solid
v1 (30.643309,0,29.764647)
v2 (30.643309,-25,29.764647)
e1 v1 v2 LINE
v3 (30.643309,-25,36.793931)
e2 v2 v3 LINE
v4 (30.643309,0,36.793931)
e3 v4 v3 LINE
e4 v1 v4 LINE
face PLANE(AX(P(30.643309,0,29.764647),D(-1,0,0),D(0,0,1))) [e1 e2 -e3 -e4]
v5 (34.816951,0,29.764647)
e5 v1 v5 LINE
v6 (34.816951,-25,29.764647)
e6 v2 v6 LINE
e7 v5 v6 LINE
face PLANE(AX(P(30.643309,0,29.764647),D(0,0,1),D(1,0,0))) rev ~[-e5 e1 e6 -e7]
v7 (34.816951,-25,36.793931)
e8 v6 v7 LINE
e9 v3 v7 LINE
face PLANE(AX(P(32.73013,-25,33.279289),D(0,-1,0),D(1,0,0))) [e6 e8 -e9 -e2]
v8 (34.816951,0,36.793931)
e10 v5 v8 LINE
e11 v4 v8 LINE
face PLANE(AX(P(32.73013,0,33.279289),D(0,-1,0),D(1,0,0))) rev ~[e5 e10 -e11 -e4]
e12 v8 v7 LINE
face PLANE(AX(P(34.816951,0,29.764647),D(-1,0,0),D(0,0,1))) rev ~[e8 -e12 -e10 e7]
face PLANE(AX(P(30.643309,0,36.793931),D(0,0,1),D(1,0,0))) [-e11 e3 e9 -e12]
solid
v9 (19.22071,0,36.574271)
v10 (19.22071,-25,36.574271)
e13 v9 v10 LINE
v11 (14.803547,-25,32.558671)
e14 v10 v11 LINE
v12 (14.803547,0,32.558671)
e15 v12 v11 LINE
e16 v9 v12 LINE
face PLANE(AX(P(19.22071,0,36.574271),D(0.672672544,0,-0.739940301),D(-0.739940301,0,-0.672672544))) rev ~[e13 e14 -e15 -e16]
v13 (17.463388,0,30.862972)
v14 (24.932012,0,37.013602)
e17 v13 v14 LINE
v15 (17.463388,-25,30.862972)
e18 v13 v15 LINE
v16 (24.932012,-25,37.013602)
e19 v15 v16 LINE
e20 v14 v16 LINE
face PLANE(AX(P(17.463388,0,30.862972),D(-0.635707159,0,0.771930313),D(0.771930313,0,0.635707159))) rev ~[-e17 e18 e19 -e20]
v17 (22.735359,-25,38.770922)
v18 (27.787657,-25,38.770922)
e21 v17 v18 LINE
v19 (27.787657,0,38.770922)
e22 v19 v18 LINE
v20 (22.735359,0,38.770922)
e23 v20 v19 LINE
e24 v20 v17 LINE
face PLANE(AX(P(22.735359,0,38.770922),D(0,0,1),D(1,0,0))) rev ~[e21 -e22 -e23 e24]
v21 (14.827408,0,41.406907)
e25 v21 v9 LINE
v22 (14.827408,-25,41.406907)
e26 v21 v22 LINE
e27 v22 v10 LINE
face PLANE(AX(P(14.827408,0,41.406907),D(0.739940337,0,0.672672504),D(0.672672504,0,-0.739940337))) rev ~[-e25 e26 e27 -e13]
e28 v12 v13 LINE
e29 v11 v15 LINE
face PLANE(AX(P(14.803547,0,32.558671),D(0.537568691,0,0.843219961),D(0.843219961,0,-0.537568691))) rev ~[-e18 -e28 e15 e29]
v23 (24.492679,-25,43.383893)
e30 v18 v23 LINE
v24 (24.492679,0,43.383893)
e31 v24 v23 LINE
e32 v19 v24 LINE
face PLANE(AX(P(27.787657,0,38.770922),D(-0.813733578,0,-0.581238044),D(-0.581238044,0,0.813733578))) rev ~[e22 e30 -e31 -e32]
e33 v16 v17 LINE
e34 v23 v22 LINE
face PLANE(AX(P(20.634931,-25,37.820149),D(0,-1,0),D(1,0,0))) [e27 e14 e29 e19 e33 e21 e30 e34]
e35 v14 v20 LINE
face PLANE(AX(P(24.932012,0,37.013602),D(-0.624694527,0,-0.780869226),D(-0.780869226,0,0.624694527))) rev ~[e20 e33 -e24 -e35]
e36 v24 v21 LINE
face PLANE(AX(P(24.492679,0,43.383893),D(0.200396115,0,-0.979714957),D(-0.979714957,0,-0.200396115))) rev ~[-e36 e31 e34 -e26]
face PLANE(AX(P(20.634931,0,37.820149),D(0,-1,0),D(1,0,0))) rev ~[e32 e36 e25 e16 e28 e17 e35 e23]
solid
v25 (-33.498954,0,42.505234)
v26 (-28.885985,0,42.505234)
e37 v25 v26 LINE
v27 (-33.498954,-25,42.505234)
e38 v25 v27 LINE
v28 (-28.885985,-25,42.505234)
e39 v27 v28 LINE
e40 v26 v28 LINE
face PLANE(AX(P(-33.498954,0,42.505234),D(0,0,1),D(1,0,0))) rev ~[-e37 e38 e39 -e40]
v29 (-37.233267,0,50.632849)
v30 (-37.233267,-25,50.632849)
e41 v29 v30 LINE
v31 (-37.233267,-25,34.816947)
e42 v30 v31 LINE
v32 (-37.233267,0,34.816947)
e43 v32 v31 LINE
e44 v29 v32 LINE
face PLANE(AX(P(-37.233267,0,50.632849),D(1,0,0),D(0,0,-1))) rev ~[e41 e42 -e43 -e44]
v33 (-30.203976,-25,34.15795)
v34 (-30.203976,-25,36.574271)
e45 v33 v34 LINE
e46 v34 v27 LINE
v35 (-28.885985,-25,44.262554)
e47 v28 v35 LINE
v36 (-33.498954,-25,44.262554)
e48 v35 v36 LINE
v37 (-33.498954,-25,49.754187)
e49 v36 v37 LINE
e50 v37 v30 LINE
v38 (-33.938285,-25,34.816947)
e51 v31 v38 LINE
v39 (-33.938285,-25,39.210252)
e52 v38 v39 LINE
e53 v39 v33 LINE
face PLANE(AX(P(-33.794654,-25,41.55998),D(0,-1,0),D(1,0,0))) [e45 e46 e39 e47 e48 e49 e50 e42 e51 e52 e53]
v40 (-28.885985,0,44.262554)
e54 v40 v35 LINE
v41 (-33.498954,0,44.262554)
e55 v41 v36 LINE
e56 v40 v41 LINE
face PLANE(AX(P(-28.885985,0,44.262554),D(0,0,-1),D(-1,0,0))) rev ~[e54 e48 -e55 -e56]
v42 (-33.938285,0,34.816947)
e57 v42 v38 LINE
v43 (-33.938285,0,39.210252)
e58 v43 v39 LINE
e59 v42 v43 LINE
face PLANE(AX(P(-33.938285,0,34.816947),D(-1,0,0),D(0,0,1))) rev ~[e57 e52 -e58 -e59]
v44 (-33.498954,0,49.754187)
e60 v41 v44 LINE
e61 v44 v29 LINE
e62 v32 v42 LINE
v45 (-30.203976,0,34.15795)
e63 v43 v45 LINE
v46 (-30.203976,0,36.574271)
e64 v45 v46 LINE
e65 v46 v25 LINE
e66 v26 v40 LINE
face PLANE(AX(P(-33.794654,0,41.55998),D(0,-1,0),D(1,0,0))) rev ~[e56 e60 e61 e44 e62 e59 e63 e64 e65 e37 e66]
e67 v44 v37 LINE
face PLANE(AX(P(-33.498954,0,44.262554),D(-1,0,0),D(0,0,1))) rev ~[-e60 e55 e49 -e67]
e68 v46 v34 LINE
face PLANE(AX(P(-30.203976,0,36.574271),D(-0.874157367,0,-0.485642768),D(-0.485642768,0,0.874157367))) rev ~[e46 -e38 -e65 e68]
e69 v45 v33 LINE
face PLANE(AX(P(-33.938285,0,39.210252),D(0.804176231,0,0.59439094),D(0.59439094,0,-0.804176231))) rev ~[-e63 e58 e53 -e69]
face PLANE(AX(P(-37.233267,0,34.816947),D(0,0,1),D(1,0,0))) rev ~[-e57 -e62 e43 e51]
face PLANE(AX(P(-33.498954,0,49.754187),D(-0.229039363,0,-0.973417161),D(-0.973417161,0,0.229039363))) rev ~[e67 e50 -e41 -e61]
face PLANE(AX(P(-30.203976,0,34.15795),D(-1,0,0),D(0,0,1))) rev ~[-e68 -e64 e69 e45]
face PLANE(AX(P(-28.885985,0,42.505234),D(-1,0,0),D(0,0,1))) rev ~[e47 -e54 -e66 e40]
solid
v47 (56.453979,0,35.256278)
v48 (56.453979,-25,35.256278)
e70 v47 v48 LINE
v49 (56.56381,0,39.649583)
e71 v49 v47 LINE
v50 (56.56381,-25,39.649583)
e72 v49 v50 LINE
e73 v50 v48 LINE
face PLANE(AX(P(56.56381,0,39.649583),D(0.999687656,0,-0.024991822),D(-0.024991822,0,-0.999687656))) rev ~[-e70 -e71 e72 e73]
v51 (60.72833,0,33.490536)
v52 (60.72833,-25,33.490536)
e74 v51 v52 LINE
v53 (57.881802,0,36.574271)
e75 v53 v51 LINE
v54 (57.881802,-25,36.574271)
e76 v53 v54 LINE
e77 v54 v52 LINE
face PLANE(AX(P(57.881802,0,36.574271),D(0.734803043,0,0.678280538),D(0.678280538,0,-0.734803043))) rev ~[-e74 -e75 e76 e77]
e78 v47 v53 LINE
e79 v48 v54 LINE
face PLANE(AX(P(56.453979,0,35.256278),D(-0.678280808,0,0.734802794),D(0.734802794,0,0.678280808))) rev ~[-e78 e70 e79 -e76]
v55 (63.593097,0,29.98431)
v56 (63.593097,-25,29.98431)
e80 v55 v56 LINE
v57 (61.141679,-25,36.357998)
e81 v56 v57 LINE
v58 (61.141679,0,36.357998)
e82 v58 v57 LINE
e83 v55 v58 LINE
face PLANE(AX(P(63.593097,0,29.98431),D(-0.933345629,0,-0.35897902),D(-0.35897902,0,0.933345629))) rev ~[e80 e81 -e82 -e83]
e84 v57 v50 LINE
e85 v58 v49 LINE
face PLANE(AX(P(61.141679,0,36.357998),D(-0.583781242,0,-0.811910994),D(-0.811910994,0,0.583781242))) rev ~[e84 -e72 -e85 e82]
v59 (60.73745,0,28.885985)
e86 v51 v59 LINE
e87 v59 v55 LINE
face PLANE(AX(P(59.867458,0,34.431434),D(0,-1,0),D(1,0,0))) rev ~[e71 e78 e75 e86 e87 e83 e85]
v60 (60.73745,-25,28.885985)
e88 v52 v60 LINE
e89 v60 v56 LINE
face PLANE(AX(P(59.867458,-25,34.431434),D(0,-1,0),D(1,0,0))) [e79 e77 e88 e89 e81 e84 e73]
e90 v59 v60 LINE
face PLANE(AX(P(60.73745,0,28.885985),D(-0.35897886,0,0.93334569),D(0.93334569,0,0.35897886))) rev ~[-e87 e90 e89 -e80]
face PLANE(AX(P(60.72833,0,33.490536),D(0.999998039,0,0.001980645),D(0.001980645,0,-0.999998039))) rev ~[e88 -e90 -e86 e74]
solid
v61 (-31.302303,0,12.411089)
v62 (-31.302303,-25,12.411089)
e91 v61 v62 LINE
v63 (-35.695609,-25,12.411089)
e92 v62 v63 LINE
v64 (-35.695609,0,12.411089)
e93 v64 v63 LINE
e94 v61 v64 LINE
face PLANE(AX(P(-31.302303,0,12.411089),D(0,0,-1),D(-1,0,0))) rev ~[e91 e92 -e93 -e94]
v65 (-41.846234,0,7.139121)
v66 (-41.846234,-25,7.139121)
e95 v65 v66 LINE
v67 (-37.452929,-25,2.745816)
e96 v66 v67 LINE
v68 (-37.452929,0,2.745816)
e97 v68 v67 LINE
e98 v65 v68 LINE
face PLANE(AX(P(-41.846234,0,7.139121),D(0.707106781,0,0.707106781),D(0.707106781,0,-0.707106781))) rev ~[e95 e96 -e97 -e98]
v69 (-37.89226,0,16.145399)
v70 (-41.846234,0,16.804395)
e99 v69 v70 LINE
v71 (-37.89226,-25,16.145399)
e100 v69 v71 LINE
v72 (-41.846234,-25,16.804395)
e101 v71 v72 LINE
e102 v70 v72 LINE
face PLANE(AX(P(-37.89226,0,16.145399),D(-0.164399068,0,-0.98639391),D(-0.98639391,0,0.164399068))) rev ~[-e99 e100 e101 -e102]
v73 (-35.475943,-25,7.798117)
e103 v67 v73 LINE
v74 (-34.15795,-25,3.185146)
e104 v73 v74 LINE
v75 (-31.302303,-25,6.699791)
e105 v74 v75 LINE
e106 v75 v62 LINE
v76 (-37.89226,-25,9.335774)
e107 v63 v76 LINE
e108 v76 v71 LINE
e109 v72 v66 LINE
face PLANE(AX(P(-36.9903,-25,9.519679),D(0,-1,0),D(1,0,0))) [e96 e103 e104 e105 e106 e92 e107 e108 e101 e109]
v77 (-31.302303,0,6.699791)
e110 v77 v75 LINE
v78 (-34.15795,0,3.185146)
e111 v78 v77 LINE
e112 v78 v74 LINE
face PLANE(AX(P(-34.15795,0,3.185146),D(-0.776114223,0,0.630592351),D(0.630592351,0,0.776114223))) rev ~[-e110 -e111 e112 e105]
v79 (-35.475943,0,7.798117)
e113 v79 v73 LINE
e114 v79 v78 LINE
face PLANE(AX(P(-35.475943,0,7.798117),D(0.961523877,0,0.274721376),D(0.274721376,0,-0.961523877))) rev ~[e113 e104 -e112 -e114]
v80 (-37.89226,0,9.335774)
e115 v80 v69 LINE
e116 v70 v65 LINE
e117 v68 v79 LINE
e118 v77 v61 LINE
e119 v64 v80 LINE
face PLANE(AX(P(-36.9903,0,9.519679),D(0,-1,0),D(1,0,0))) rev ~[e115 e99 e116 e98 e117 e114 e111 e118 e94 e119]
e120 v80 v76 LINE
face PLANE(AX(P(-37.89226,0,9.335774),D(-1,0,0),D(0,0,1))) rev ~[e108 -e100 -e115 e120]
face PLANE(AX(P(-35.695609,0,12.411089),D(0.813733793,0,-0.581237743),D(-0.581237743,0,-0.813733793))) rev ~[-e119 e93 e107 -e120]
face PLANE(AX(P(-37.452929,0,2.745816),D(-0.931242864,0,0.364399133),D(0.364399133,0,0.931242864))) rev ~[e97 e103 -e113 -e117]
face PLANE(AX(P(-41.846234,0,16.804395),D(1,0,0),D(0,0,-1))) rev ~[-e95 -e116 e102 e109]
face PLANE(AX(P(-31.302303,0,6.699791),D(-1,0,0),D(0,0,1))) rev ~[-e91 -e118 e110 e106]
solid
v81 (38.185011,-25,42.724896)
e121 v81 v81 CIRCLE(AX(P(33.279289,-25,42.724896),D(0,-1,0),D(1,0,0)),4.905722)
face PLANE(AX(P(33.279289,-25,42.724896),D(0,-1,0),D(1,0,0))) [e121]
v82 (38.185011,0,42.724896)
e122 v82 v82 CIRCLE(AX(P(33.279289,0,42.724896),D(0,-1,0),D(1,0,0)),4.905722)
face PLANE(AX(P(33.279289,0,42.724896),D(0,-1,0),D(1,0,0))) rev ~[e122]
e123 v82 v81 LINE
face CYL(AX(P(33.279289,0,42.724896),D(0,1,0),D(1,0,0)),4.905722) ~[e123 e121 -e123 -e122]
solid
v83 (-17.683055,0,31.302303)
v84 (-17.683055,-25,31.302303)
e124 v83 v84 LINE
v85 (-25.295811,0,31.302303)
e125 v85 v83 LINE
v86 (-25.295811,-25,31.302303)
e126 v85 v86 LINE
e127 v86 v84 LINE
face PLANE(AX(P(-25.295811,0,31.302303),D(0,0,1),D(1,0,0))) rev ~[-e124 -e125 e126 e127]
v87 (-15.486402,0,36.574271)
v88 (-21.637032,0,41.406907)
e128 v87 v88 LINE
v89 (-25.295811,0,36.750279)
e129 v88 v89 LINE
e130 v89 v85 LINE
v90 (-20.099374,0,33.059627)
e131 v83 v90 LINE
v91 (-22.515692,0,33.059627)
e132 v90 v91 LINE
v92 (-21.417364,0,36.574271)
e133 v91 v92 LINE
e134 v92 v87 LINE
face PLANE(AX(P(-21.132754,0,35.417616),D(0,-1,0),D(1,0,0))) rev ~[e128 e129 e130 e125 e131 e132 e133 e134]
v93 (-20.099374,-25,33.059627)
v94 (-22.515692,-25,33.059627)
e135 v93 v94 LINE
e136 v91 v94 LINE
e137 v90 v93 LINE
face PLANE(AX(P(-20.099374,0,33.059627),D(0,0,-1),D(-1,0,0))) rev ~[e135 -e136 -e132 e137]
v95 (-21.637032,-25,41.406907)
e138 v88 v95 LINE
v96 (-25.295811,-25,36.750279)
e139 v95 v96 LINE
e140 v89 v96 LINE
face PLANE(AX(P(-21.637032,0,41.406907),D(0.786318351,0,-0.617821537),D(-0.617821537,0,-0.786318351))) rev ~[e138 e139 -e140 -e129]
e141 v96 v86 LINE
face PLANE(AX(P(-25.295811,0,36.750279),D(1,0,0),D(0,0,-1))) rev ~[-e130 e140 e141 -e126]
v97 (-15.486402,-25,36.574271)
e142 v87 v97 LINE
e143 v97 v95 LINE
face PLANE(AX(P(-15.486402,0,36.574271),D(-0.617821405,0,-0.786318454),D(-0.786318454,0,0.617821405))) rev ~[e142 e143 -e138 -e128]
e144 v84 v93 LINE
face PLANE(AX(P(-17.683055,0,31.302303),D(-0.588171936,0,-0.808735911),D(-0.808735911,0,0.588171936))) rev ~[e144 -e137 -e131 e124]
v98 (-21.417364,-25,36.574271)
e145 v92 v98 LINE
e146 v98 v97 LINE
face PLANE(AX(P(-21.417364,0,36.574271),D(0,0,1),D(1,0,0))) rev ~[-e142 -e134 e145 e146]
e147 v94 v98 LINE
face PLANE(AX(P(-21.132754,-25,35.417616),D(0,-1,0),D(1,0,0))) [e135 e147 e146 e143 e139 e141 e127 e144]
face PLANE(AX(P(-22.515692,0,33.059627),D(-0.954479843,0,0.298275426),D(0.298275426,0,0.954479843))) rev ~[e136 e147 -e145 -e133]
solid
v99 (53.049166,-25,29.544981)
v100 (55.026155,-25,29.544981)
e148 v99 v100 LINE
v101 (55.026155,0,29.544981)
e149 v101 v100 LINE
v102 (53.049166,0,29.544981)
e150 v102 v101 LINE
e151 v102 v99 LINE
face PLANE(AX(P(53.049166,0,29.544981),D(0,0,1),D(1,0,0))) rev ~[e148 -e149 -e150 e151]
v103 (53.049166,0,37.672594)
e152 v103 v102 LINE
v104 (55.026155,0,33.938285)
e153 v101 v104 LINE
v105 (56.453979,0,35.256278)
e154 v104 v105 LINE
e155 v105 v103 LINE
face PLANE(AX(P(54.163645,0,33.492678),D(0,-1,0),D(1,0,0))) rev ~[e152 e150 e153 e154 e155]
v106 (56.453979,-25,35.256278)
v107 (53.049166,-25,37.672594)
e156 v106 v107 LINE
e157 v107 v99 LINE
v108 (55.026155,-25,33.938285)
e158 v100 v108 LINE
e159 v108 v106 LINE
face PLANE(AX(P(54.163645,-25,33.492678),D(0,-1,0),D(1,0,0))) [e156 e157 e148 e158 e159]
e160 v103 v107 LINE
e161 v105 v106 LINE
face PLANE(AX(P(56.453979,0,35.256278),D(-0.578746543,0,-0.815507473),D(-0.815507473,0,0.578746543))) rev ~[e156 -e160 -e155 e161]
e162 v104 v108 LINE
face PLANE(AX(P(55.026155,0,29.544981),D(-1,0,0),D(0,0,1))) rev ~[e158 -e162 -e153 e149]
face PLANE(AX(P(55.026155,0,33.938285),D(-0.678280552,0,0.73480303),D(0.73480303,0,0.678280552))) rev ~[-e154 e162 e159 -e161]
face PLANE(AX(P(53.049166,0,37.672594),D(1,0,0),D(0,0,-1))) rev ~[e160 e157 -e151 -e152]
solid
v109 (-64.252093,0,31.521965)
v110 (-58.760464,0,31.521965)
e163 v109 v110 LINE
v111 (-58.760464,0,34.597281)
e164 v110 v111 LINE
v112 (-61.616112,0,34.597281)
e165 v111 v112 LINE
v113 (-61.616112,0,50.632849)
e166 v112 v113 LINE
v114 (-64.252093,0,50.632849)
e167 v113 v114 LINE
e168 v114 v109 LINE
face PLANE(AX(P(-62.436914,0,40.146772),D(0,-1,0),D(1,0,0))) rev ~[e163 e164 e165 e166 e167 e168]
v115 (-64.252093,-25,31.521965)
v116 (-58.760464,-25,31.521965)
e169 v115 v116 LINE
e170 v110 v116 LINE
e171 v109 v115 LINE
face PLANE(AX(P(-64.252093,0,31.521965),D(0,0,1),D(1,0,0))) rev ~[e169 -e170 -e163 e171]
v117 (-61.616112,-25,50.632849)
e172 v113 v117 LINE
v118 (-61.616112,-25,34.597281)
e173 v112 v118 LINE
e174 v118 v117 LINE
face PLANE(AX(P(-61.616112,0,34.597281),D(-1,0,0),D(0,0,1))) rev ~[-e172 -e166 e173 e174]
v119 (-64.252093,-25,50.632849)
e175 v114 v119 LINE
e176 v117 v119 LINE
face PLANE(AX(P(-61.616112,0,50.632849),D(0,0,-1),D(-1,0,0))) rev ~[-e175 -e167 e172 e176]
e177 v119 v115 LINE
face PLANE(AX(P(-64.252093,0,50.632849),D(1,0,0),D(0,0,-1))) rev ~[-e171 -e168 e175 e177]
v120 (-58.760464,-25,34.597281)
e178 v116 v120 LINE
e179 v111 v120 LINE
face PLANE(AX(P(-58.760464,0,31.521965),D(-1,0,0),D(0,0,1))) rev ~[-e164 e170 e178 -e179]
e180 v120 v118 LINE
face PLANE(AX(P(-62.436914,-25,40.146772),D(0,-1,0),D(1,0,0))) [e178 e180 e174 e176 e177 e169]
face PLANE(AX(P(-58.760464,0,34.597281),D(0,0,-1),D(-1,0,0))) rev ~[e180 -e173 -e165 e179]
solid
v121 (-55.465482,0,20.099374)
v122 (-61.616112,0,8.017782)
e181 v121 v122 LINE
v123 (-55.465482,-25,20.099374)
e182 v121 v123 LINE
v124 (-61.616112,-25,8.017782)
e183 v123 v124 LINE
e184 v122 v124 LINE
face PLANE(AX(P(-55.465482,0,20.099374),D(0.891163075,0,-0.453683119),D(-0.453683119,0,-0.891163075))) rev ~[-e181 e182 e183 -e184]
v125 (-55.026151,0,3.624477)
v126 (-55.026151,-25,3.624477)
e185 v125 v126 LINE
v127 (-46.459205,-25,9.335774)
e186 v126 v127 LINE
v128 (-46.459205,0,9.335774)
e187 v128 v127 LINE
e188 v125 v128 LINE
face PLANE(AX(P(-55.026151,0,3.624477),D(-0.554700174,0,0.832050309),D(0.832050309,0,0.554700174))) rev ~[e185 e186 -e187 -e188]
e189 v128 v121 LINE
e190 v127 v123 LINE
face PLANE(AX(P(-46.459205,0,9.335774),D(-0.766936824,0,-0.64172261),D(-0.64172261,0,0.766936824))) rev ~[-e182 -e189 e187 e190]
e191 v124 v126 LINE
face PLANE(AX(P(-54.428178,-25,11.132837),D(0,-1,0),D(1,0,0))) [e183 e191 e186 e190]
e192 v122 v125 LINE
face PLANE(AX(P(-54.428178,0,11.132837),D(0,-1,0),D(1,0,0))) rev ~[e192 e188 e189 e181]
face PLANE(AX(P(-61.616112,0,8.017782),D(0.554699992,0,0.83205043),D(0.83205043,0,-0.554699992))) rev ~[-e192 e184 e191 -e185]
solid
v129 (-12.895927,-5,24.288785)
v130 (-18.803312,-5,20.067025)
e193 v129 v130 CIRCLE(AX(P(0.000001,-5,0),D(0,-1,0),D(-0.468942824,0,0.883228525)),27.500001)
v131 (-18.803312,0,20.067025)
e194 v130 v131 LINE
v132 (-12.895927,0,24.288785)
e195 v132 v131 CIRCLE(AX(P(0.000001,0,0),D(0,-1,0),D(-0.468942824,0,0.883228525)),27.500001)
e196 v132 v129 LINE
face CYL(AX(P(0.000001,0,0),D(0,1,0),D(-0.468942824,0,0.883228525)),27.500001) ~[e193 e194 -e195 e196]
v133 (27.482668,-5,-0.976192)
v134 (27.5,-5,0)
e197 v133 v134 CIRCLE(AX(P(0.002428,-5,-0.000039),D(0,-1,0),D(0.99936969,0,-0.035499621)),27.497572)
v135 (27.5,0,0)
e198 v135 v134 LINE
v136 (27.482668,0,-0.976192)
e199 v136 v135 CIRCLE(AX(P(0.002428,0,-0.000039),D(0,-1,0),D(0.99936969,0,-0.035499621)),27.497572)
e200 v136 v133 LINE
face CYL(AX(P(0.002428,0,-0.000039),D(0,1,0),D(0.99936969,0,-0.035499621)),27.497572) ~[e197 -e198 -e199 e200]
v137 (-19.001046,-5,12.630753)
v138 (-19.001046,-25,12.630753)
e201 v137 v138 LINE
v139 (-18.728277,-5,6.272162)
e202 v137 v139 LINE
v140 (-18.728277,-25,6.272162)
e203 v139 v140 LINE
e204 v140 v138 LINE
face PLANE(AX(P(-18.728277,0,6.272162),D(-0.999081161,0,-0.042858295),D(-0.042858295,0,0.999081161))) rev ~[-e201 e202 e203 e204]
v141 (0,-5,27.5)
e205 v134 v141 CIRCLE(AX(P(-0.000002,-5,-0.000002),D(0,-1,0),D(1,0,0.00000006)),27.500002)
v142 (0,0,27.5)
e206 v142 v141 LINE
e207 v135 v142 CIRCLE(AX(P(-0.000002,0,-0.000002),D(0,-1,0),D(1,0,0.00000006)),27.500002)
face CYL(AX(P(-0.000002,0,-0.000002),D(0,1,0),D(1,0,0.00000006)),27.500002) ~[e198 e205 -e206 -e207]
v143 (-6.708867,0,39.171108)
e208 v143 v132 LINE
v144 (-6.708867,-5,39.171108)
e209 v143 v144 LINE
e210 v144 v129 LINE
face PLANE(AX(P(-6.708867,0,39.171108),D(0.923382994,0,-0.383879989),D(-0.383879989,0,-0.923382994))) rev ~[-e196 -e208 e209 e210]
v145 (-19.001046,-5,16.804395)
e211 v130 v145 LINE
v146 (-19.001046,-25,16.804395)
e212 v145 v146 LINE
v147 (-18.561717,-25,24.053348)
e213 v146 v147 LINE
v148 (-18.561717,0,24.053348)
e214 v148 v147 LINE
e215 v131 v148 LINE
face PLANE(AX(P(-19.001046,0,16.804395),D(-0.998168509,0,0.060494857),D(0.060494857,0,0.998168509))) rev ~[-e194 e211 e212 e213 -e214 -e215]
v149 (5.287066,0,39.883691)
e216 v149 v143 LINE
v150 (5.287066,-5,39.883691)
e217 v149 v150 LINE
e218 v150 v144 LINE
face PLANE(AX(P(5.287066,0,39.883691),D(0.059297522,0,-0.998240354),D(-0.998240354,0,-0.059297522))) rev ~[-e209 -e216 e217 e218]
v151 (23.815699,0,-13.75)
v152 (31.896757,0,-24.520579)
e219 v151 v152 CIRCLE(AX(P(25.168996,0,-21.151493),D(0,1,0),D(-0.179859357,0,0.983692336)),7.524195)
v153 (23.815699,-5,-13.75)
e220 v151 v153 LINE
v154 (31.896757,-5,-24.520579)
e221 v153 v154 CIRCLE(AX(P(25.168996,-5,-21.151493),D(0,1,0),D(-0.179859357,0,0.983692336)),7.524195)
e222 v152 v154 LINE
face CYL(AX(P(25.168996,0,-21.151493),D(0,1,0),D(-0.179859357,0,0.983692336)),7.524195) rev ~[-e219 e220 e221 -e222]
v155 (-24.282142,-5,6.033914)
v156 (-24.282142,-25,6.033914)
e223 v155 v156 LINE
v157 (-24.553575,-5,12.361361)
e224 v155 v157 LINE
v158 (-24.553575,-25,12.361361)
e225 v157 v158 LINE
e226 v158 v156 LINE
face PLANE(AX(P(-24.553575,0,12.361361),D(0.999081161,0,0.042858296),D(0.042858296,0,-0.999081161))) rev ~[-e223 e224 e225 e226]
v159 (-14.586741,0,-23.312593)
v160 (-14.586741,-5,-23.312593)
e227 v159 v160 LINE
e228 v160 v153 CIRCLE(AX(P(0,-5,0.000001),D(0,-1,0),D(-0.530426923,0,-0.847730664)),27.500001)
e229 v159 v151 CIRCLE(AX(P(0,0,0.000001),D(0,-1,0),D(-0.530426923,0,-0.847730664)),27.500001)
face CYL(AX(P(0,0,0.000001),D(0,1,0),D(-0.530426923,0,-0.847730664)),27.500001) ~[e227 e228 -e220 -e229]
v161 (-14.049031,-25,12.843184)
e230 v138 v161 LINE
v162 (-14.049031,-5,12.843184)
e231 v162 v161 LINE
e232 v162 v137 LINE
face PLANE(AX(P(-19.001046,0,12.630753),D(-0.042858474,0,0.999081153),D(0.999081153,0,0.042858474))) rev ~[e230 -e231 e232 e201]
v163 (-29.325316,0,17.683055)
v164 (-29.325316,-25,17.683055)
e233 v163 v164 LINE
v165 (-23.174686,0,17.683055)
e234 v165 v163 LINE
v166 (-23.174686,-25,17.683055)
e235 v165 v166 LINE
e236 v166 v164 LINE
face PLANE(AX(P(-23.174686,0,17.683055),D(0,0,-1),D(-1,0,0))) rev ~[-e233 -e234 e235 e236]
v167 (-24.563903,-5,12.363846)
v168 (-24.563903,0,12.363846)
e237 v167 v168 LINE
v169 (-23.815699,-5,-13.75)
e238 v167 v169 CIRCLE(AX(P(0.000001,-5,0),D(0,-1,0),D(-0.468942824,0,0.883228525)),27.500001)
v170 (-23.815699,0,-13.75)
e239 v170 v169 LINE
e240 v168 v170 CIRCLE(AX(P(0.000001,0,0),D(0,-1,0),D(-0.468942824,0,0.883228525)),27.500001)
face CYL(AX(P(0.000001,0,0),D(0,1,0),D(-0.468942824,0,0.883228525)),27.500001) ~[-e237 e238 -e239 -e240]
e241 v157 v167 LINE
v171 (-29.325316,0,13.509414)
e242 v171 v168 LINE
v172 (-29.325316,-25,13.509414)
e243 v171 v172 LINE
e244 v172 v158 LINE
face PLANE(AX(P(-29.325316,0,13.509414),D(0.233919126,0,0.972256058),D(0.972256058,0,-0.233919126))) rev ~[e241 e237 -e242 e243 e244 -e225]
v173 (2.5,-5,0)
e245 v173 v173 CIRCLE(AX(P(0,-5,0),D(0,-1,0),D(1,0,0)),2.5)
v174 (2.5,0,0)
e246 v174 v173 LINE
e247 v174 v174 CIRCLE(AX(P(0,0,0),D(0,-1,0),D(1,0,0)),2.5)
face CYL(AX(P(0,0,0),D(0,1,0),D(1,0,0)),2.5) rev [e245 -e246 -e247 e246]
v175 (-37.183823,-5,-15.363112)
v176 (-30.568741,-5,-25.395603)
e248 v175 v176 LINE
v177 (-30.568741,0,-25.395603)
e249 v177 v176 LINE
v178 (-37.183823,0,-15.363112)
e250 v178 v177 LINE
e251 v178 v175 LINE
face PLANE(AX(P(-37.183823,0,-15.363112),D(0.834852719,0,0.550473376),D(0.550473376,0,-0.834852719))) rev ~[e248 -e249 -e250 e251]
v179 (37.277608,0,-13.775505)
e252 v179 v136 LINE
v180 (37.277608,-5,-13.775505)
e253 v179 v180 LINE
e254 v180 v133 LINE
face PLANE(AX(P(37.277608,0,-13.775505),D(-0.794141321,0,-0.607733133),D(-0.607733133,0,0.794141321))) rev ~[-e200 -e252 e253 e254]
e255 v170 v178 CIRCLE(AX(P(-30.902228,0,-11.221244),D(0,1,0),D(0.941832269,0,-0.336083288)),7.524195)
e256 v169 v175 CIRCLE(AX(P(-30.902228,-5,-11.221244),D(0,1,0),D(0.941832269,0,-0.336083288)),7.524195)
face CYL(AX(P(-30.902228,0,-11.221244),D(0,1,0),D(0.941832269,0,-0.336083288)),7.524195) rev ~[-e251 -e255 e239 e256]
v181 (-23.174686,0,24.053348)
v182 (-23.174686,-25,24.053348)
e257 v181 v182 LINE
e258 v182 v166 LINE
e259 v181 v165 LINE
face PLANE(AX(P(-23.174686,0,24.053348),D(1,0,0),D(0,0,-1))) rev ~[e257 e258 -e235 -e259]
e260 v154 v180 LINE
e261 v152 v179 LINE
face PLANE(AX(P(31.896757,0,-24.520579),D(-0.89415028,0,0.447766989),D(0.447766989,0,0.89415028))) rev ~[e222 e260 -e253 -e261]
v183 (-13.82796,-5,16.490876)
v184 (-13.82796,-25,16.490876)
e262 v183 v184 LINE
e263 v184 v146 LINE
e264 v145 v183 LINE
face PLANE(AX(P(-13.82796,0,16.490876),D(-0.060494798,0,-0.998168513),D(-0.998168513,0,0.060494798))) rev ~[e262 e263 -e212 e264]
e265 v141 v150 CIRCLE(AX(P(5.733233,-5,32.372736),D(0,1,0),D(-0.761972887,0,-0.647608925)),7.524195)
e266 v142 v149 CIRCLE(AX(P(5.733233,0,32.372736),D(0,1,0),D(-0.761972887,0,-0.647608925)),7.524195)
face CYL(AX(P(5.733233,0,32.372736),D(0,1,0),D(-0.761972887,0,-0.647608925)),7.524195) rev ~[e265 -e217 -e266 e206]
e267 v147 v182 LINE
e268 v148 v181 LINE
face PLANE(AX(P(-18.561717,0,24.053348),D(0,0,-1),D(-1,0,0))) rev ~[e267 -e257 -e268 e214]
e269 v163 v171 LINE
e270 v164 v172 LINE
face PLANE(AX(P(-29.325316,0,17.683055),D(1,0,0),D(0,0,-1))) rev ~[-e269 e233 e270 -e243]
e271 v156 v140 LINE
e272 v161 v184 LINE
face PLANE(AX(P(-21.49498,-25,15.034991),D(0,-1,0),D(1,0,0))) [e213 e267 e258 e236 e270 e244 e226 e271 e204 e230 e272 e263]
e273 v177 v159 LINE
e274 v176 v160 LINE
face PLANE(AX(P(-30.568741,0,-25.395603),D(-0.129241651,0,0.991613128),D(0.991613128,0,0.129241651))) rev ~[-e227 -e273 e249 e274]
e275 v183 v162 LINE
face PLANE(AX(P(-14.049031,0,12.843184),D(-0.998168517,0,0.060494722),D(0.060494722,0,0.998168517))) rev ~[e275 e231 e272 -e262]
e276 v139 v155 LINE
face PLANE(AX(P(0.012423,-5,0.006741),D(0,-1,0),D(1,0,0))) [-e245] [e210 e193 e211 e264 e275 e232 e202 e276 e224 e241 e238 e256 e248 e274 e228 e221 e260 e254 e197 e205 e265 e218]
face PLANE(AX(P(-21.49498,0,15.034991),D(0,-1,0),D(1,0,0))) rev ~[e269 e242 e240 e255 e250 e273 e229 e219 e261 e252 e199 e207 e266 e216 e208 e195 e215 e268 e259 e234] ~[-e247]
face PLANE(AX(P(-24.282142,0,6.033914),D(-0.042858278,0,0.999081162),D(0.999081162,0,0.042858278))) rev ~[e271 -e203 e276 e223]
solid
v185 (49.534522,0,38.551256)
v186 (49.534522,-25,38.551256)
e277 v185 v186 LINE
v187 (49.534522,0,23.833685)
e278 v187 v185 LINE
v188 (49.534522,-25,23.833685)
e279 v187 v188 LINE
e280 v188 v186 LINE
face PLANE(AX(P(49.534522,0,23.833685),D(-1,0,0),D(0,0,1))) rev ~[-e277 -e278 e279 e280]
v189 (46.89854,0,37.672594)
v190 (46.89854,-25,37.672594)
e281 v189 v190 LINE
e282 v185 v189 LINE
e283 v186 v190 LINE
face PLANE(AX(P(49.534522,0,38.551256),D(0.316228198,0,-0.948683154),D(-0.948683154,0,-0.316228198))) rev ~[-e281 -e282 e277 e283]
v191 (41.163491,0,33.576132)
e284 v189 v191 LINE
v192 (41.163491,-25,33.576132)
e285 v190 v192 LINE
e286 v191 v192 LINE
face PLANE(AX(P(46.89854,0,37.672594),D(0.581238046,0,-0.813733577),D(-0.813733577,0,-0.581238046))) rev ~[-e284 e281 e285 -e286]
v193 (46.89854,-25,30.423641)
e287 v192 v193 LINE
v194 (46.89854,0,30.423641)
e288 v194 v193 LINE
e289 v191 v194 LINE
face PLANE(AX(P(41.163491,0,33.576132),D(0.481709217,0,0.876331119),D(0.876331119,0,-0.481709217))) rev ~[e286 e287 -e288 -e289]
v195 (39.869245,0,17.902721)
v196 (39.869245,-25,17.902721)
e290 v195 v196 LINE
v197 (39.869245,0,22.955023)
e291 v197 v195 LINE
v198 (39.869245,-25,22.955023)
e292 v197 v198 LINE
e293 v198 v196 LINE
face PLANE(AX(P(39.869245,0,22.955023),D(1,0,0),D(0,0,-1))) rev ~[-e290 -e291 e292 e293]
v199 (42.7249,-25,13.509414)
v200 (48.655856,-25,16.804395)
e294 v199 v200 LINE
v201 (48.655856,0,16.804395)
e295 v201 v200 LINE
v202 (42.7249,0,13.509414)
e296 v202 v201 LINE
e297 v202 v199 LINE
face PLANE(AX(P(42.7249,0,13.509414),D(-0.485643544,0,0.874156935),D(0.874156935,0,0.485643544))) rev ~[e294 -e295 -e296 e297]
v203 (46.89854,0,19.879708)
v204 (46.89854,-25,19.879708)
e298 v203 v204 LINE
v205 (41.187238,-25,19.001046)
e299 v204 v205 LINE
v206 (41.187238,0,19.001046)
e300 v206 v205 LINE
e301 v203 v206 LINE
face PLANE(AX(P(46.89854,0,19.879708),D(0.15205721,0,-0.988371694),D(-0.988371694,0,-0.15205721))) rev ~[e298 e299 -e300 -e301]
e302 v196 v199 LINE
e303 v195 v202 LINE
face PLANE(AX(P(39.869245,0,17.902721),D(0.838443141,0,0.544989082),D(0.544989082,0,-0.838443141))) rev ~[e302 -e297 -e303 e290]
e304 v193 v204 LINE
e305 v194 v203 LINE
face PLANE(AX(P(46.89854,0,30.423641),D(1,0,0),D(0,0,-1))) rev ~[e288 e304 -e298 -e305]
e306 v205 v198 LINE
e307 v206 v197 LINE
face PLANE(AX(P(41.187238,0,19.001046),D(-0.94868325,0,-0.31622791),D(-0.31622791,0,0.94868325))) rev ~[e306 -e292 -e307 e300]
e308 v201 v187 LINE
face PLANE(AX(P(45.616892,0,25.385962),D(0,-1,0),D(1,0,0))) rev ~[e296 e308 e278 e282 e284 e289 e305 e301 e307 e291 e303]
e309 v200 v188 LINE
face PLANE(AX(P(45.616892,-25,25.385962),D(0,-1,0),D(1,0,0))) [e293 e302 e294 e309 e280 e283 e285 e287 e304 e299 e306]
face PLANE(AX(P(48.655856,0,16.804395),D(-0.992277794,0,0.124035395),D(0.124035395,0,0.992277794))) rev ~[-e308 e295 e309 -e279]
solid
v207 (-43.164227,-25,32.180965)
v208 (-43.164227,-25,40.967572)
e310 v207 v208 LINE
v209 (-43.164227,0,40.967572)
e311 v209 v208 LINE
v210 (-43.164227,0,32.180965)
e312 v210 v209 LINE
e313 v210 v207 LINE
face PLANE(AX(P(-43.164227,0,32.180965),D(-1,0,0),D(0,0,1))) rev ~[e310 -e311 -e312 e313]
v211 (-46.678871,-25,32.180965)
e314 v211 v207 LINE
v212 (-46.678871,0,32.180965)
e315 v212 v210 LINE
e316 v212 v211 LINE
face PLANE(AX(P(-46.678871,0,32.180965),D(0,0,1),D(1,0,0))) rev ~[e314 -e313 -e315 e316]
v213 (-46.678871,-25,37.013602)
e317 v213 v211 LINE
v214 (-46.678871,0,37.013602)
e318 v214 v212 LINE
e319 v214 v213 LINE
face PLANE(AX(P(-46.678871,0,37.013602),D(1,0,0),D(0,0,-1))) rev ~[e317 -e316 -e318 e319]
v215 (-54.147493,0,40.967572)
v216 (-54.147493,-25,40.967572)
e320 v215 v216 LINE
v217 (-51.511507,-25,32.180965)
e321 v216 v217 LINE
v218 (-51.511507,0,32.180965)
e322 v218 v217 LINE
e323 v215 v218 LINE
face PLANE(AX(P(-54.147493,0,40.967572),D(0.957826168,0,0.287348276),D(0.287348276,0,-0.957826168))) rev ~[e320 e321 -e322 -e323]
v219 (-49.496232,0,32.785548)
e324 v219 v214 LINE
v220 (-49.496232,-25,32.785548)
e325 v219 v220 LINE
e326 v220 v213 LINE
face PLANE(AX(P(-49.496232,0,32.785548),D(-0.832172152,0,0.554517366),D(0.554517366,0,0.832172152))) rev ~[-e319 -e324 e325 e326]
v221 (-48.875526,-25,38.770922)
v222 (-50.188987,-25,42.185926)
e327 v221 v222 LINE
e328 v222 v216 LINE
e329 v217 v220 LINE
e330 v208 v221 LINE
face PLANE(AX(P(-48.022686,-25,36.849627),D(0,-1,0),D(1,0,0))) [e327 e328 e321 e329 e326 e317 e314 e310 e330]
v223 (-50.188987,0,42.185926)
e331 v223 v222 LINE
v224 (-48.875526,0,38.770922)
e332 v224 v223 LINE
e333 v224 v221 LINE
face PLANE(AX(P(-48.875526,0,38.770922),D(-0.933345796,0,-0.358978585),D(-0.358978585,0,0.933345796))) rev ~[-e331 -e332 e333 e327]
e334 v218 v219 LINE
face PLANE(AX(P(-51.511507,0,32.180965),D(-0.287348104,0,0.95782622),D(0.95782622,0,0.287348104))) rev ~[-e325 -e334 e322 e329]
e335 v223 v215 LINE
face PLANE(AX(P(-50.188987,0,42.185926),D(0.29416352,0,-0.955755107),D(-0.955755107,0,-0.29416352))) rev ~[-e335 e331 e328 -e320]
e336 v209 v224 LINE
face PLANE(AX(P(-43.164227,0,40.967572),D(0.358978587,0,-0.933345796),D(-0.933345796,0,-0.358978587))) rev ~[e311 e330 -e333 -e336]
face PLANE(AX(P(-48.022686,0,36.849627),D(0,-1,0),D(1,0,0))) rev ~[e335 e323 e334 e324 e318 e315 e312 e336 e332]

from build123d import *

# Parameters (mm, degrees)
F0_R     = 2.5
F1_DEPTH = 5
F2_W     = 4.173642
F2_H     = 7.029285
F3_DEPTH = 25
F2_R     = 4.905722
F4_DEPTH = 25


with BuildPart() as f1:
    # F0 (on Front) → F1 (new body)
    with BuildSketch(Plane.XZ):
        with BuildLine():
            ThreePointArc((27.482668, -0.976192), (27.495667, -0.488173), (27.5, 0))
            ThreePointArc((27.5, 0), (19.445436, 19.445436), (0, 27.5))
            ThreePointArc((0, 27.5), (-6.644863, 26.685123), (-12.895927, 24.288785))
            ThreePointArc((-12.895927, 24.288785), (-26.432426, 7.587941), (-23.815699, -13.75))
            ThreePointArc((-23.815699, -13.75), (-19.787563, -19.097182), (-14.586741, -23.312593))
            ThreePointArc((-14.586741, -23.312593), (6.644863, -26.685123), (23.815699, -13.75))
            ThreePointArc((23.815699, -13.75), (26.432426, -7.587941), (27.482668, -0.976192))
        make_face()
        Circle(F0_R, mode=Mode.SUBTRACT)
        with BuildLine():
            ThreePointArc((-12.895927, 24.288785), (-6.644863, 26.685123), (0, 27.5))
            ThreePointArc((0, 27.5), (-1.18668, 35.327109), (5.287066, 39.883691))
            Line((5.287066, 39.883691), (-6.708867, 39.171108))
            Line((-6.708867, 39.171108), (-12.895927, 24.288785))
        make_face()
        with BuildLine():
            ThreePointArc((-14.586741, -23.312593), (-19.787563, -19.097182), (-23.815699, -13.75))
            ThreePointArc((-23.815699, -13.75), (-30.000833, -18.69125), (-37.183823, -15.363112))
            Line((-37.183823, -15.363112), (-30.568741, -25.395603))
            Line((-30.568741, -25.395603), (-14.586741, -23.312593))
        make_face()
        with BuildLine():
            Line((37.277608, -13.775505), (27.482668, -0.976192))
            ThreePointArc((27.482668, -0.976192), (26.432426, -7.587941), (23.815699, -13.75))
            ThreePointArc((23.815699, -13.75), (31.187514, -16.635859), (31.896757, -24.520579))
            Line((31.896757, -24.520579), (37.277608, -13.775505))
        make_face()
    extrude(amount=F1_DEPTH)

    # F2 (on Front) → F3 (join)
    with BuildSketch(Plane.XZ):
        Polygon((-61.616112, 50.632849), (-64.252093, 50.632849), (-64.252093, 31.521965), (-58.760464, 31.521965), (-58.760464, 34.597281), (-61.616112, 34.597281), align=None)
        Polygon((-50.188987, 42.185926), (-54.147493, 40.967572), (-51.511507, 32.180965), (-49.496232, 32.785548), (-46.678871, 37.013602), (-46.678871, 32.180965), (-43.164227, 32.180965), (-43.164227, 40.967572), (-48.875526, 38.770922), align=None)
        Polygon((-33.498954, 49.754187), (-37.233267, 50.632849), (-37.233267, 34.816947), (-33.938285, 34.816947), (-33.938285, 39.210252), (-30.203976, 34.15795), (-30.203976, 36.574271), (-33.498954, 42.505234), (-28.885985, 42.505234), (-28.885985, 44.262554), (-33.498954, 44.262554), align=None)
        Polygon((-22.515692, 33.059627), (-21.417364, 36.574271), (-15.486402, 36.574271), (-21.637032, 41.406907), (-25.295811, 36.750279), (-25.295811, 31.302303), (-20.099374, 31.302303), (-17.683055, 31.302303), (-20.099374, 33.059627), align=None)
        Polygon((27.787657, 38.770922), (24.492679, 43.383893), (14.827408, 41.406907), (19.22071, 36.574271), (14.803547, 32.558671), (17.463388, 30.862972), (24.932012, 37.013602), (22.735359, 38.770922), align=None)
        with Locations((32.73013, 33.279289)):
            Rectangle(F2_W, F2_H)
        Polygon((49.534522, 38.551256), (46.89854, 37.672594), (41.163491, 33.576132), (46.89854, 30.423641), (46.89854, 19.879708), (41.187238, 19.001046), (39.869245, 22.955023), (39.869245, 17.902721), (42.7249, 13.509414), (48.655856, 16.804395), (49.534522, 23.833685), align=None)
        Polygon((56.453979, 35.256278), (53.049166, 37.672594), (53.049166, 29.544981), (55.026155, 29.544981), (55.026155, 33.938285), align=None)
        Polygon((56.56381, 39.649583), (56.453979, 35.256278), (57.881802, 36.574271), (60.72833, 33.490536), (60.73745, 28.885985), (63.593097, 29.98431), (61.141679, 36.357998), align=None)
        Polygon((-29.325316, 17.683055), (-29.325316, 13.509414), (-24.553575, 12.361361), (-24.282142, 6.033914), (-18.728277, 6.272162), (-19.001046, 12.630753), (-14.049031, 12.843184), (-13.82796, 16.490876), (-19.001046, 16.804395), (-18.561717, 24.053348), (-23.174686, 24.053348), (-23.174686, 17.683055), align=None)
        Polygon((-37.89226, 16.145399), (-41.846234, 16.804395), (-41.846234, 7.139121), (-37.452929, 2.745816), (-35.475943, 7.798117), (-34.15795, 3.185146), (-31.302303, 6.699791), (-31.302303, 12.411089), (-35.695609, 12.411089), (-37.89226, 9.335774), align=None)
        Polygon((-46.459205, 9.335774), (-55.465482, 20.099374), (-61.616112, 8.017782), (-55.026151, 3.624477), align=None)
    extrude(amount=F3_DEPTH)


with BuildPart() as f4:
    # F2 (on Front) → F4 (new body)
    with BuildSketch(Plane.XZ):
        with Locations((33.279289, 42.724896)):
            Circle(F2_R)
    extrude(amount=F4_DEPTH)


solid = Compound([f1.part, f4.part])
